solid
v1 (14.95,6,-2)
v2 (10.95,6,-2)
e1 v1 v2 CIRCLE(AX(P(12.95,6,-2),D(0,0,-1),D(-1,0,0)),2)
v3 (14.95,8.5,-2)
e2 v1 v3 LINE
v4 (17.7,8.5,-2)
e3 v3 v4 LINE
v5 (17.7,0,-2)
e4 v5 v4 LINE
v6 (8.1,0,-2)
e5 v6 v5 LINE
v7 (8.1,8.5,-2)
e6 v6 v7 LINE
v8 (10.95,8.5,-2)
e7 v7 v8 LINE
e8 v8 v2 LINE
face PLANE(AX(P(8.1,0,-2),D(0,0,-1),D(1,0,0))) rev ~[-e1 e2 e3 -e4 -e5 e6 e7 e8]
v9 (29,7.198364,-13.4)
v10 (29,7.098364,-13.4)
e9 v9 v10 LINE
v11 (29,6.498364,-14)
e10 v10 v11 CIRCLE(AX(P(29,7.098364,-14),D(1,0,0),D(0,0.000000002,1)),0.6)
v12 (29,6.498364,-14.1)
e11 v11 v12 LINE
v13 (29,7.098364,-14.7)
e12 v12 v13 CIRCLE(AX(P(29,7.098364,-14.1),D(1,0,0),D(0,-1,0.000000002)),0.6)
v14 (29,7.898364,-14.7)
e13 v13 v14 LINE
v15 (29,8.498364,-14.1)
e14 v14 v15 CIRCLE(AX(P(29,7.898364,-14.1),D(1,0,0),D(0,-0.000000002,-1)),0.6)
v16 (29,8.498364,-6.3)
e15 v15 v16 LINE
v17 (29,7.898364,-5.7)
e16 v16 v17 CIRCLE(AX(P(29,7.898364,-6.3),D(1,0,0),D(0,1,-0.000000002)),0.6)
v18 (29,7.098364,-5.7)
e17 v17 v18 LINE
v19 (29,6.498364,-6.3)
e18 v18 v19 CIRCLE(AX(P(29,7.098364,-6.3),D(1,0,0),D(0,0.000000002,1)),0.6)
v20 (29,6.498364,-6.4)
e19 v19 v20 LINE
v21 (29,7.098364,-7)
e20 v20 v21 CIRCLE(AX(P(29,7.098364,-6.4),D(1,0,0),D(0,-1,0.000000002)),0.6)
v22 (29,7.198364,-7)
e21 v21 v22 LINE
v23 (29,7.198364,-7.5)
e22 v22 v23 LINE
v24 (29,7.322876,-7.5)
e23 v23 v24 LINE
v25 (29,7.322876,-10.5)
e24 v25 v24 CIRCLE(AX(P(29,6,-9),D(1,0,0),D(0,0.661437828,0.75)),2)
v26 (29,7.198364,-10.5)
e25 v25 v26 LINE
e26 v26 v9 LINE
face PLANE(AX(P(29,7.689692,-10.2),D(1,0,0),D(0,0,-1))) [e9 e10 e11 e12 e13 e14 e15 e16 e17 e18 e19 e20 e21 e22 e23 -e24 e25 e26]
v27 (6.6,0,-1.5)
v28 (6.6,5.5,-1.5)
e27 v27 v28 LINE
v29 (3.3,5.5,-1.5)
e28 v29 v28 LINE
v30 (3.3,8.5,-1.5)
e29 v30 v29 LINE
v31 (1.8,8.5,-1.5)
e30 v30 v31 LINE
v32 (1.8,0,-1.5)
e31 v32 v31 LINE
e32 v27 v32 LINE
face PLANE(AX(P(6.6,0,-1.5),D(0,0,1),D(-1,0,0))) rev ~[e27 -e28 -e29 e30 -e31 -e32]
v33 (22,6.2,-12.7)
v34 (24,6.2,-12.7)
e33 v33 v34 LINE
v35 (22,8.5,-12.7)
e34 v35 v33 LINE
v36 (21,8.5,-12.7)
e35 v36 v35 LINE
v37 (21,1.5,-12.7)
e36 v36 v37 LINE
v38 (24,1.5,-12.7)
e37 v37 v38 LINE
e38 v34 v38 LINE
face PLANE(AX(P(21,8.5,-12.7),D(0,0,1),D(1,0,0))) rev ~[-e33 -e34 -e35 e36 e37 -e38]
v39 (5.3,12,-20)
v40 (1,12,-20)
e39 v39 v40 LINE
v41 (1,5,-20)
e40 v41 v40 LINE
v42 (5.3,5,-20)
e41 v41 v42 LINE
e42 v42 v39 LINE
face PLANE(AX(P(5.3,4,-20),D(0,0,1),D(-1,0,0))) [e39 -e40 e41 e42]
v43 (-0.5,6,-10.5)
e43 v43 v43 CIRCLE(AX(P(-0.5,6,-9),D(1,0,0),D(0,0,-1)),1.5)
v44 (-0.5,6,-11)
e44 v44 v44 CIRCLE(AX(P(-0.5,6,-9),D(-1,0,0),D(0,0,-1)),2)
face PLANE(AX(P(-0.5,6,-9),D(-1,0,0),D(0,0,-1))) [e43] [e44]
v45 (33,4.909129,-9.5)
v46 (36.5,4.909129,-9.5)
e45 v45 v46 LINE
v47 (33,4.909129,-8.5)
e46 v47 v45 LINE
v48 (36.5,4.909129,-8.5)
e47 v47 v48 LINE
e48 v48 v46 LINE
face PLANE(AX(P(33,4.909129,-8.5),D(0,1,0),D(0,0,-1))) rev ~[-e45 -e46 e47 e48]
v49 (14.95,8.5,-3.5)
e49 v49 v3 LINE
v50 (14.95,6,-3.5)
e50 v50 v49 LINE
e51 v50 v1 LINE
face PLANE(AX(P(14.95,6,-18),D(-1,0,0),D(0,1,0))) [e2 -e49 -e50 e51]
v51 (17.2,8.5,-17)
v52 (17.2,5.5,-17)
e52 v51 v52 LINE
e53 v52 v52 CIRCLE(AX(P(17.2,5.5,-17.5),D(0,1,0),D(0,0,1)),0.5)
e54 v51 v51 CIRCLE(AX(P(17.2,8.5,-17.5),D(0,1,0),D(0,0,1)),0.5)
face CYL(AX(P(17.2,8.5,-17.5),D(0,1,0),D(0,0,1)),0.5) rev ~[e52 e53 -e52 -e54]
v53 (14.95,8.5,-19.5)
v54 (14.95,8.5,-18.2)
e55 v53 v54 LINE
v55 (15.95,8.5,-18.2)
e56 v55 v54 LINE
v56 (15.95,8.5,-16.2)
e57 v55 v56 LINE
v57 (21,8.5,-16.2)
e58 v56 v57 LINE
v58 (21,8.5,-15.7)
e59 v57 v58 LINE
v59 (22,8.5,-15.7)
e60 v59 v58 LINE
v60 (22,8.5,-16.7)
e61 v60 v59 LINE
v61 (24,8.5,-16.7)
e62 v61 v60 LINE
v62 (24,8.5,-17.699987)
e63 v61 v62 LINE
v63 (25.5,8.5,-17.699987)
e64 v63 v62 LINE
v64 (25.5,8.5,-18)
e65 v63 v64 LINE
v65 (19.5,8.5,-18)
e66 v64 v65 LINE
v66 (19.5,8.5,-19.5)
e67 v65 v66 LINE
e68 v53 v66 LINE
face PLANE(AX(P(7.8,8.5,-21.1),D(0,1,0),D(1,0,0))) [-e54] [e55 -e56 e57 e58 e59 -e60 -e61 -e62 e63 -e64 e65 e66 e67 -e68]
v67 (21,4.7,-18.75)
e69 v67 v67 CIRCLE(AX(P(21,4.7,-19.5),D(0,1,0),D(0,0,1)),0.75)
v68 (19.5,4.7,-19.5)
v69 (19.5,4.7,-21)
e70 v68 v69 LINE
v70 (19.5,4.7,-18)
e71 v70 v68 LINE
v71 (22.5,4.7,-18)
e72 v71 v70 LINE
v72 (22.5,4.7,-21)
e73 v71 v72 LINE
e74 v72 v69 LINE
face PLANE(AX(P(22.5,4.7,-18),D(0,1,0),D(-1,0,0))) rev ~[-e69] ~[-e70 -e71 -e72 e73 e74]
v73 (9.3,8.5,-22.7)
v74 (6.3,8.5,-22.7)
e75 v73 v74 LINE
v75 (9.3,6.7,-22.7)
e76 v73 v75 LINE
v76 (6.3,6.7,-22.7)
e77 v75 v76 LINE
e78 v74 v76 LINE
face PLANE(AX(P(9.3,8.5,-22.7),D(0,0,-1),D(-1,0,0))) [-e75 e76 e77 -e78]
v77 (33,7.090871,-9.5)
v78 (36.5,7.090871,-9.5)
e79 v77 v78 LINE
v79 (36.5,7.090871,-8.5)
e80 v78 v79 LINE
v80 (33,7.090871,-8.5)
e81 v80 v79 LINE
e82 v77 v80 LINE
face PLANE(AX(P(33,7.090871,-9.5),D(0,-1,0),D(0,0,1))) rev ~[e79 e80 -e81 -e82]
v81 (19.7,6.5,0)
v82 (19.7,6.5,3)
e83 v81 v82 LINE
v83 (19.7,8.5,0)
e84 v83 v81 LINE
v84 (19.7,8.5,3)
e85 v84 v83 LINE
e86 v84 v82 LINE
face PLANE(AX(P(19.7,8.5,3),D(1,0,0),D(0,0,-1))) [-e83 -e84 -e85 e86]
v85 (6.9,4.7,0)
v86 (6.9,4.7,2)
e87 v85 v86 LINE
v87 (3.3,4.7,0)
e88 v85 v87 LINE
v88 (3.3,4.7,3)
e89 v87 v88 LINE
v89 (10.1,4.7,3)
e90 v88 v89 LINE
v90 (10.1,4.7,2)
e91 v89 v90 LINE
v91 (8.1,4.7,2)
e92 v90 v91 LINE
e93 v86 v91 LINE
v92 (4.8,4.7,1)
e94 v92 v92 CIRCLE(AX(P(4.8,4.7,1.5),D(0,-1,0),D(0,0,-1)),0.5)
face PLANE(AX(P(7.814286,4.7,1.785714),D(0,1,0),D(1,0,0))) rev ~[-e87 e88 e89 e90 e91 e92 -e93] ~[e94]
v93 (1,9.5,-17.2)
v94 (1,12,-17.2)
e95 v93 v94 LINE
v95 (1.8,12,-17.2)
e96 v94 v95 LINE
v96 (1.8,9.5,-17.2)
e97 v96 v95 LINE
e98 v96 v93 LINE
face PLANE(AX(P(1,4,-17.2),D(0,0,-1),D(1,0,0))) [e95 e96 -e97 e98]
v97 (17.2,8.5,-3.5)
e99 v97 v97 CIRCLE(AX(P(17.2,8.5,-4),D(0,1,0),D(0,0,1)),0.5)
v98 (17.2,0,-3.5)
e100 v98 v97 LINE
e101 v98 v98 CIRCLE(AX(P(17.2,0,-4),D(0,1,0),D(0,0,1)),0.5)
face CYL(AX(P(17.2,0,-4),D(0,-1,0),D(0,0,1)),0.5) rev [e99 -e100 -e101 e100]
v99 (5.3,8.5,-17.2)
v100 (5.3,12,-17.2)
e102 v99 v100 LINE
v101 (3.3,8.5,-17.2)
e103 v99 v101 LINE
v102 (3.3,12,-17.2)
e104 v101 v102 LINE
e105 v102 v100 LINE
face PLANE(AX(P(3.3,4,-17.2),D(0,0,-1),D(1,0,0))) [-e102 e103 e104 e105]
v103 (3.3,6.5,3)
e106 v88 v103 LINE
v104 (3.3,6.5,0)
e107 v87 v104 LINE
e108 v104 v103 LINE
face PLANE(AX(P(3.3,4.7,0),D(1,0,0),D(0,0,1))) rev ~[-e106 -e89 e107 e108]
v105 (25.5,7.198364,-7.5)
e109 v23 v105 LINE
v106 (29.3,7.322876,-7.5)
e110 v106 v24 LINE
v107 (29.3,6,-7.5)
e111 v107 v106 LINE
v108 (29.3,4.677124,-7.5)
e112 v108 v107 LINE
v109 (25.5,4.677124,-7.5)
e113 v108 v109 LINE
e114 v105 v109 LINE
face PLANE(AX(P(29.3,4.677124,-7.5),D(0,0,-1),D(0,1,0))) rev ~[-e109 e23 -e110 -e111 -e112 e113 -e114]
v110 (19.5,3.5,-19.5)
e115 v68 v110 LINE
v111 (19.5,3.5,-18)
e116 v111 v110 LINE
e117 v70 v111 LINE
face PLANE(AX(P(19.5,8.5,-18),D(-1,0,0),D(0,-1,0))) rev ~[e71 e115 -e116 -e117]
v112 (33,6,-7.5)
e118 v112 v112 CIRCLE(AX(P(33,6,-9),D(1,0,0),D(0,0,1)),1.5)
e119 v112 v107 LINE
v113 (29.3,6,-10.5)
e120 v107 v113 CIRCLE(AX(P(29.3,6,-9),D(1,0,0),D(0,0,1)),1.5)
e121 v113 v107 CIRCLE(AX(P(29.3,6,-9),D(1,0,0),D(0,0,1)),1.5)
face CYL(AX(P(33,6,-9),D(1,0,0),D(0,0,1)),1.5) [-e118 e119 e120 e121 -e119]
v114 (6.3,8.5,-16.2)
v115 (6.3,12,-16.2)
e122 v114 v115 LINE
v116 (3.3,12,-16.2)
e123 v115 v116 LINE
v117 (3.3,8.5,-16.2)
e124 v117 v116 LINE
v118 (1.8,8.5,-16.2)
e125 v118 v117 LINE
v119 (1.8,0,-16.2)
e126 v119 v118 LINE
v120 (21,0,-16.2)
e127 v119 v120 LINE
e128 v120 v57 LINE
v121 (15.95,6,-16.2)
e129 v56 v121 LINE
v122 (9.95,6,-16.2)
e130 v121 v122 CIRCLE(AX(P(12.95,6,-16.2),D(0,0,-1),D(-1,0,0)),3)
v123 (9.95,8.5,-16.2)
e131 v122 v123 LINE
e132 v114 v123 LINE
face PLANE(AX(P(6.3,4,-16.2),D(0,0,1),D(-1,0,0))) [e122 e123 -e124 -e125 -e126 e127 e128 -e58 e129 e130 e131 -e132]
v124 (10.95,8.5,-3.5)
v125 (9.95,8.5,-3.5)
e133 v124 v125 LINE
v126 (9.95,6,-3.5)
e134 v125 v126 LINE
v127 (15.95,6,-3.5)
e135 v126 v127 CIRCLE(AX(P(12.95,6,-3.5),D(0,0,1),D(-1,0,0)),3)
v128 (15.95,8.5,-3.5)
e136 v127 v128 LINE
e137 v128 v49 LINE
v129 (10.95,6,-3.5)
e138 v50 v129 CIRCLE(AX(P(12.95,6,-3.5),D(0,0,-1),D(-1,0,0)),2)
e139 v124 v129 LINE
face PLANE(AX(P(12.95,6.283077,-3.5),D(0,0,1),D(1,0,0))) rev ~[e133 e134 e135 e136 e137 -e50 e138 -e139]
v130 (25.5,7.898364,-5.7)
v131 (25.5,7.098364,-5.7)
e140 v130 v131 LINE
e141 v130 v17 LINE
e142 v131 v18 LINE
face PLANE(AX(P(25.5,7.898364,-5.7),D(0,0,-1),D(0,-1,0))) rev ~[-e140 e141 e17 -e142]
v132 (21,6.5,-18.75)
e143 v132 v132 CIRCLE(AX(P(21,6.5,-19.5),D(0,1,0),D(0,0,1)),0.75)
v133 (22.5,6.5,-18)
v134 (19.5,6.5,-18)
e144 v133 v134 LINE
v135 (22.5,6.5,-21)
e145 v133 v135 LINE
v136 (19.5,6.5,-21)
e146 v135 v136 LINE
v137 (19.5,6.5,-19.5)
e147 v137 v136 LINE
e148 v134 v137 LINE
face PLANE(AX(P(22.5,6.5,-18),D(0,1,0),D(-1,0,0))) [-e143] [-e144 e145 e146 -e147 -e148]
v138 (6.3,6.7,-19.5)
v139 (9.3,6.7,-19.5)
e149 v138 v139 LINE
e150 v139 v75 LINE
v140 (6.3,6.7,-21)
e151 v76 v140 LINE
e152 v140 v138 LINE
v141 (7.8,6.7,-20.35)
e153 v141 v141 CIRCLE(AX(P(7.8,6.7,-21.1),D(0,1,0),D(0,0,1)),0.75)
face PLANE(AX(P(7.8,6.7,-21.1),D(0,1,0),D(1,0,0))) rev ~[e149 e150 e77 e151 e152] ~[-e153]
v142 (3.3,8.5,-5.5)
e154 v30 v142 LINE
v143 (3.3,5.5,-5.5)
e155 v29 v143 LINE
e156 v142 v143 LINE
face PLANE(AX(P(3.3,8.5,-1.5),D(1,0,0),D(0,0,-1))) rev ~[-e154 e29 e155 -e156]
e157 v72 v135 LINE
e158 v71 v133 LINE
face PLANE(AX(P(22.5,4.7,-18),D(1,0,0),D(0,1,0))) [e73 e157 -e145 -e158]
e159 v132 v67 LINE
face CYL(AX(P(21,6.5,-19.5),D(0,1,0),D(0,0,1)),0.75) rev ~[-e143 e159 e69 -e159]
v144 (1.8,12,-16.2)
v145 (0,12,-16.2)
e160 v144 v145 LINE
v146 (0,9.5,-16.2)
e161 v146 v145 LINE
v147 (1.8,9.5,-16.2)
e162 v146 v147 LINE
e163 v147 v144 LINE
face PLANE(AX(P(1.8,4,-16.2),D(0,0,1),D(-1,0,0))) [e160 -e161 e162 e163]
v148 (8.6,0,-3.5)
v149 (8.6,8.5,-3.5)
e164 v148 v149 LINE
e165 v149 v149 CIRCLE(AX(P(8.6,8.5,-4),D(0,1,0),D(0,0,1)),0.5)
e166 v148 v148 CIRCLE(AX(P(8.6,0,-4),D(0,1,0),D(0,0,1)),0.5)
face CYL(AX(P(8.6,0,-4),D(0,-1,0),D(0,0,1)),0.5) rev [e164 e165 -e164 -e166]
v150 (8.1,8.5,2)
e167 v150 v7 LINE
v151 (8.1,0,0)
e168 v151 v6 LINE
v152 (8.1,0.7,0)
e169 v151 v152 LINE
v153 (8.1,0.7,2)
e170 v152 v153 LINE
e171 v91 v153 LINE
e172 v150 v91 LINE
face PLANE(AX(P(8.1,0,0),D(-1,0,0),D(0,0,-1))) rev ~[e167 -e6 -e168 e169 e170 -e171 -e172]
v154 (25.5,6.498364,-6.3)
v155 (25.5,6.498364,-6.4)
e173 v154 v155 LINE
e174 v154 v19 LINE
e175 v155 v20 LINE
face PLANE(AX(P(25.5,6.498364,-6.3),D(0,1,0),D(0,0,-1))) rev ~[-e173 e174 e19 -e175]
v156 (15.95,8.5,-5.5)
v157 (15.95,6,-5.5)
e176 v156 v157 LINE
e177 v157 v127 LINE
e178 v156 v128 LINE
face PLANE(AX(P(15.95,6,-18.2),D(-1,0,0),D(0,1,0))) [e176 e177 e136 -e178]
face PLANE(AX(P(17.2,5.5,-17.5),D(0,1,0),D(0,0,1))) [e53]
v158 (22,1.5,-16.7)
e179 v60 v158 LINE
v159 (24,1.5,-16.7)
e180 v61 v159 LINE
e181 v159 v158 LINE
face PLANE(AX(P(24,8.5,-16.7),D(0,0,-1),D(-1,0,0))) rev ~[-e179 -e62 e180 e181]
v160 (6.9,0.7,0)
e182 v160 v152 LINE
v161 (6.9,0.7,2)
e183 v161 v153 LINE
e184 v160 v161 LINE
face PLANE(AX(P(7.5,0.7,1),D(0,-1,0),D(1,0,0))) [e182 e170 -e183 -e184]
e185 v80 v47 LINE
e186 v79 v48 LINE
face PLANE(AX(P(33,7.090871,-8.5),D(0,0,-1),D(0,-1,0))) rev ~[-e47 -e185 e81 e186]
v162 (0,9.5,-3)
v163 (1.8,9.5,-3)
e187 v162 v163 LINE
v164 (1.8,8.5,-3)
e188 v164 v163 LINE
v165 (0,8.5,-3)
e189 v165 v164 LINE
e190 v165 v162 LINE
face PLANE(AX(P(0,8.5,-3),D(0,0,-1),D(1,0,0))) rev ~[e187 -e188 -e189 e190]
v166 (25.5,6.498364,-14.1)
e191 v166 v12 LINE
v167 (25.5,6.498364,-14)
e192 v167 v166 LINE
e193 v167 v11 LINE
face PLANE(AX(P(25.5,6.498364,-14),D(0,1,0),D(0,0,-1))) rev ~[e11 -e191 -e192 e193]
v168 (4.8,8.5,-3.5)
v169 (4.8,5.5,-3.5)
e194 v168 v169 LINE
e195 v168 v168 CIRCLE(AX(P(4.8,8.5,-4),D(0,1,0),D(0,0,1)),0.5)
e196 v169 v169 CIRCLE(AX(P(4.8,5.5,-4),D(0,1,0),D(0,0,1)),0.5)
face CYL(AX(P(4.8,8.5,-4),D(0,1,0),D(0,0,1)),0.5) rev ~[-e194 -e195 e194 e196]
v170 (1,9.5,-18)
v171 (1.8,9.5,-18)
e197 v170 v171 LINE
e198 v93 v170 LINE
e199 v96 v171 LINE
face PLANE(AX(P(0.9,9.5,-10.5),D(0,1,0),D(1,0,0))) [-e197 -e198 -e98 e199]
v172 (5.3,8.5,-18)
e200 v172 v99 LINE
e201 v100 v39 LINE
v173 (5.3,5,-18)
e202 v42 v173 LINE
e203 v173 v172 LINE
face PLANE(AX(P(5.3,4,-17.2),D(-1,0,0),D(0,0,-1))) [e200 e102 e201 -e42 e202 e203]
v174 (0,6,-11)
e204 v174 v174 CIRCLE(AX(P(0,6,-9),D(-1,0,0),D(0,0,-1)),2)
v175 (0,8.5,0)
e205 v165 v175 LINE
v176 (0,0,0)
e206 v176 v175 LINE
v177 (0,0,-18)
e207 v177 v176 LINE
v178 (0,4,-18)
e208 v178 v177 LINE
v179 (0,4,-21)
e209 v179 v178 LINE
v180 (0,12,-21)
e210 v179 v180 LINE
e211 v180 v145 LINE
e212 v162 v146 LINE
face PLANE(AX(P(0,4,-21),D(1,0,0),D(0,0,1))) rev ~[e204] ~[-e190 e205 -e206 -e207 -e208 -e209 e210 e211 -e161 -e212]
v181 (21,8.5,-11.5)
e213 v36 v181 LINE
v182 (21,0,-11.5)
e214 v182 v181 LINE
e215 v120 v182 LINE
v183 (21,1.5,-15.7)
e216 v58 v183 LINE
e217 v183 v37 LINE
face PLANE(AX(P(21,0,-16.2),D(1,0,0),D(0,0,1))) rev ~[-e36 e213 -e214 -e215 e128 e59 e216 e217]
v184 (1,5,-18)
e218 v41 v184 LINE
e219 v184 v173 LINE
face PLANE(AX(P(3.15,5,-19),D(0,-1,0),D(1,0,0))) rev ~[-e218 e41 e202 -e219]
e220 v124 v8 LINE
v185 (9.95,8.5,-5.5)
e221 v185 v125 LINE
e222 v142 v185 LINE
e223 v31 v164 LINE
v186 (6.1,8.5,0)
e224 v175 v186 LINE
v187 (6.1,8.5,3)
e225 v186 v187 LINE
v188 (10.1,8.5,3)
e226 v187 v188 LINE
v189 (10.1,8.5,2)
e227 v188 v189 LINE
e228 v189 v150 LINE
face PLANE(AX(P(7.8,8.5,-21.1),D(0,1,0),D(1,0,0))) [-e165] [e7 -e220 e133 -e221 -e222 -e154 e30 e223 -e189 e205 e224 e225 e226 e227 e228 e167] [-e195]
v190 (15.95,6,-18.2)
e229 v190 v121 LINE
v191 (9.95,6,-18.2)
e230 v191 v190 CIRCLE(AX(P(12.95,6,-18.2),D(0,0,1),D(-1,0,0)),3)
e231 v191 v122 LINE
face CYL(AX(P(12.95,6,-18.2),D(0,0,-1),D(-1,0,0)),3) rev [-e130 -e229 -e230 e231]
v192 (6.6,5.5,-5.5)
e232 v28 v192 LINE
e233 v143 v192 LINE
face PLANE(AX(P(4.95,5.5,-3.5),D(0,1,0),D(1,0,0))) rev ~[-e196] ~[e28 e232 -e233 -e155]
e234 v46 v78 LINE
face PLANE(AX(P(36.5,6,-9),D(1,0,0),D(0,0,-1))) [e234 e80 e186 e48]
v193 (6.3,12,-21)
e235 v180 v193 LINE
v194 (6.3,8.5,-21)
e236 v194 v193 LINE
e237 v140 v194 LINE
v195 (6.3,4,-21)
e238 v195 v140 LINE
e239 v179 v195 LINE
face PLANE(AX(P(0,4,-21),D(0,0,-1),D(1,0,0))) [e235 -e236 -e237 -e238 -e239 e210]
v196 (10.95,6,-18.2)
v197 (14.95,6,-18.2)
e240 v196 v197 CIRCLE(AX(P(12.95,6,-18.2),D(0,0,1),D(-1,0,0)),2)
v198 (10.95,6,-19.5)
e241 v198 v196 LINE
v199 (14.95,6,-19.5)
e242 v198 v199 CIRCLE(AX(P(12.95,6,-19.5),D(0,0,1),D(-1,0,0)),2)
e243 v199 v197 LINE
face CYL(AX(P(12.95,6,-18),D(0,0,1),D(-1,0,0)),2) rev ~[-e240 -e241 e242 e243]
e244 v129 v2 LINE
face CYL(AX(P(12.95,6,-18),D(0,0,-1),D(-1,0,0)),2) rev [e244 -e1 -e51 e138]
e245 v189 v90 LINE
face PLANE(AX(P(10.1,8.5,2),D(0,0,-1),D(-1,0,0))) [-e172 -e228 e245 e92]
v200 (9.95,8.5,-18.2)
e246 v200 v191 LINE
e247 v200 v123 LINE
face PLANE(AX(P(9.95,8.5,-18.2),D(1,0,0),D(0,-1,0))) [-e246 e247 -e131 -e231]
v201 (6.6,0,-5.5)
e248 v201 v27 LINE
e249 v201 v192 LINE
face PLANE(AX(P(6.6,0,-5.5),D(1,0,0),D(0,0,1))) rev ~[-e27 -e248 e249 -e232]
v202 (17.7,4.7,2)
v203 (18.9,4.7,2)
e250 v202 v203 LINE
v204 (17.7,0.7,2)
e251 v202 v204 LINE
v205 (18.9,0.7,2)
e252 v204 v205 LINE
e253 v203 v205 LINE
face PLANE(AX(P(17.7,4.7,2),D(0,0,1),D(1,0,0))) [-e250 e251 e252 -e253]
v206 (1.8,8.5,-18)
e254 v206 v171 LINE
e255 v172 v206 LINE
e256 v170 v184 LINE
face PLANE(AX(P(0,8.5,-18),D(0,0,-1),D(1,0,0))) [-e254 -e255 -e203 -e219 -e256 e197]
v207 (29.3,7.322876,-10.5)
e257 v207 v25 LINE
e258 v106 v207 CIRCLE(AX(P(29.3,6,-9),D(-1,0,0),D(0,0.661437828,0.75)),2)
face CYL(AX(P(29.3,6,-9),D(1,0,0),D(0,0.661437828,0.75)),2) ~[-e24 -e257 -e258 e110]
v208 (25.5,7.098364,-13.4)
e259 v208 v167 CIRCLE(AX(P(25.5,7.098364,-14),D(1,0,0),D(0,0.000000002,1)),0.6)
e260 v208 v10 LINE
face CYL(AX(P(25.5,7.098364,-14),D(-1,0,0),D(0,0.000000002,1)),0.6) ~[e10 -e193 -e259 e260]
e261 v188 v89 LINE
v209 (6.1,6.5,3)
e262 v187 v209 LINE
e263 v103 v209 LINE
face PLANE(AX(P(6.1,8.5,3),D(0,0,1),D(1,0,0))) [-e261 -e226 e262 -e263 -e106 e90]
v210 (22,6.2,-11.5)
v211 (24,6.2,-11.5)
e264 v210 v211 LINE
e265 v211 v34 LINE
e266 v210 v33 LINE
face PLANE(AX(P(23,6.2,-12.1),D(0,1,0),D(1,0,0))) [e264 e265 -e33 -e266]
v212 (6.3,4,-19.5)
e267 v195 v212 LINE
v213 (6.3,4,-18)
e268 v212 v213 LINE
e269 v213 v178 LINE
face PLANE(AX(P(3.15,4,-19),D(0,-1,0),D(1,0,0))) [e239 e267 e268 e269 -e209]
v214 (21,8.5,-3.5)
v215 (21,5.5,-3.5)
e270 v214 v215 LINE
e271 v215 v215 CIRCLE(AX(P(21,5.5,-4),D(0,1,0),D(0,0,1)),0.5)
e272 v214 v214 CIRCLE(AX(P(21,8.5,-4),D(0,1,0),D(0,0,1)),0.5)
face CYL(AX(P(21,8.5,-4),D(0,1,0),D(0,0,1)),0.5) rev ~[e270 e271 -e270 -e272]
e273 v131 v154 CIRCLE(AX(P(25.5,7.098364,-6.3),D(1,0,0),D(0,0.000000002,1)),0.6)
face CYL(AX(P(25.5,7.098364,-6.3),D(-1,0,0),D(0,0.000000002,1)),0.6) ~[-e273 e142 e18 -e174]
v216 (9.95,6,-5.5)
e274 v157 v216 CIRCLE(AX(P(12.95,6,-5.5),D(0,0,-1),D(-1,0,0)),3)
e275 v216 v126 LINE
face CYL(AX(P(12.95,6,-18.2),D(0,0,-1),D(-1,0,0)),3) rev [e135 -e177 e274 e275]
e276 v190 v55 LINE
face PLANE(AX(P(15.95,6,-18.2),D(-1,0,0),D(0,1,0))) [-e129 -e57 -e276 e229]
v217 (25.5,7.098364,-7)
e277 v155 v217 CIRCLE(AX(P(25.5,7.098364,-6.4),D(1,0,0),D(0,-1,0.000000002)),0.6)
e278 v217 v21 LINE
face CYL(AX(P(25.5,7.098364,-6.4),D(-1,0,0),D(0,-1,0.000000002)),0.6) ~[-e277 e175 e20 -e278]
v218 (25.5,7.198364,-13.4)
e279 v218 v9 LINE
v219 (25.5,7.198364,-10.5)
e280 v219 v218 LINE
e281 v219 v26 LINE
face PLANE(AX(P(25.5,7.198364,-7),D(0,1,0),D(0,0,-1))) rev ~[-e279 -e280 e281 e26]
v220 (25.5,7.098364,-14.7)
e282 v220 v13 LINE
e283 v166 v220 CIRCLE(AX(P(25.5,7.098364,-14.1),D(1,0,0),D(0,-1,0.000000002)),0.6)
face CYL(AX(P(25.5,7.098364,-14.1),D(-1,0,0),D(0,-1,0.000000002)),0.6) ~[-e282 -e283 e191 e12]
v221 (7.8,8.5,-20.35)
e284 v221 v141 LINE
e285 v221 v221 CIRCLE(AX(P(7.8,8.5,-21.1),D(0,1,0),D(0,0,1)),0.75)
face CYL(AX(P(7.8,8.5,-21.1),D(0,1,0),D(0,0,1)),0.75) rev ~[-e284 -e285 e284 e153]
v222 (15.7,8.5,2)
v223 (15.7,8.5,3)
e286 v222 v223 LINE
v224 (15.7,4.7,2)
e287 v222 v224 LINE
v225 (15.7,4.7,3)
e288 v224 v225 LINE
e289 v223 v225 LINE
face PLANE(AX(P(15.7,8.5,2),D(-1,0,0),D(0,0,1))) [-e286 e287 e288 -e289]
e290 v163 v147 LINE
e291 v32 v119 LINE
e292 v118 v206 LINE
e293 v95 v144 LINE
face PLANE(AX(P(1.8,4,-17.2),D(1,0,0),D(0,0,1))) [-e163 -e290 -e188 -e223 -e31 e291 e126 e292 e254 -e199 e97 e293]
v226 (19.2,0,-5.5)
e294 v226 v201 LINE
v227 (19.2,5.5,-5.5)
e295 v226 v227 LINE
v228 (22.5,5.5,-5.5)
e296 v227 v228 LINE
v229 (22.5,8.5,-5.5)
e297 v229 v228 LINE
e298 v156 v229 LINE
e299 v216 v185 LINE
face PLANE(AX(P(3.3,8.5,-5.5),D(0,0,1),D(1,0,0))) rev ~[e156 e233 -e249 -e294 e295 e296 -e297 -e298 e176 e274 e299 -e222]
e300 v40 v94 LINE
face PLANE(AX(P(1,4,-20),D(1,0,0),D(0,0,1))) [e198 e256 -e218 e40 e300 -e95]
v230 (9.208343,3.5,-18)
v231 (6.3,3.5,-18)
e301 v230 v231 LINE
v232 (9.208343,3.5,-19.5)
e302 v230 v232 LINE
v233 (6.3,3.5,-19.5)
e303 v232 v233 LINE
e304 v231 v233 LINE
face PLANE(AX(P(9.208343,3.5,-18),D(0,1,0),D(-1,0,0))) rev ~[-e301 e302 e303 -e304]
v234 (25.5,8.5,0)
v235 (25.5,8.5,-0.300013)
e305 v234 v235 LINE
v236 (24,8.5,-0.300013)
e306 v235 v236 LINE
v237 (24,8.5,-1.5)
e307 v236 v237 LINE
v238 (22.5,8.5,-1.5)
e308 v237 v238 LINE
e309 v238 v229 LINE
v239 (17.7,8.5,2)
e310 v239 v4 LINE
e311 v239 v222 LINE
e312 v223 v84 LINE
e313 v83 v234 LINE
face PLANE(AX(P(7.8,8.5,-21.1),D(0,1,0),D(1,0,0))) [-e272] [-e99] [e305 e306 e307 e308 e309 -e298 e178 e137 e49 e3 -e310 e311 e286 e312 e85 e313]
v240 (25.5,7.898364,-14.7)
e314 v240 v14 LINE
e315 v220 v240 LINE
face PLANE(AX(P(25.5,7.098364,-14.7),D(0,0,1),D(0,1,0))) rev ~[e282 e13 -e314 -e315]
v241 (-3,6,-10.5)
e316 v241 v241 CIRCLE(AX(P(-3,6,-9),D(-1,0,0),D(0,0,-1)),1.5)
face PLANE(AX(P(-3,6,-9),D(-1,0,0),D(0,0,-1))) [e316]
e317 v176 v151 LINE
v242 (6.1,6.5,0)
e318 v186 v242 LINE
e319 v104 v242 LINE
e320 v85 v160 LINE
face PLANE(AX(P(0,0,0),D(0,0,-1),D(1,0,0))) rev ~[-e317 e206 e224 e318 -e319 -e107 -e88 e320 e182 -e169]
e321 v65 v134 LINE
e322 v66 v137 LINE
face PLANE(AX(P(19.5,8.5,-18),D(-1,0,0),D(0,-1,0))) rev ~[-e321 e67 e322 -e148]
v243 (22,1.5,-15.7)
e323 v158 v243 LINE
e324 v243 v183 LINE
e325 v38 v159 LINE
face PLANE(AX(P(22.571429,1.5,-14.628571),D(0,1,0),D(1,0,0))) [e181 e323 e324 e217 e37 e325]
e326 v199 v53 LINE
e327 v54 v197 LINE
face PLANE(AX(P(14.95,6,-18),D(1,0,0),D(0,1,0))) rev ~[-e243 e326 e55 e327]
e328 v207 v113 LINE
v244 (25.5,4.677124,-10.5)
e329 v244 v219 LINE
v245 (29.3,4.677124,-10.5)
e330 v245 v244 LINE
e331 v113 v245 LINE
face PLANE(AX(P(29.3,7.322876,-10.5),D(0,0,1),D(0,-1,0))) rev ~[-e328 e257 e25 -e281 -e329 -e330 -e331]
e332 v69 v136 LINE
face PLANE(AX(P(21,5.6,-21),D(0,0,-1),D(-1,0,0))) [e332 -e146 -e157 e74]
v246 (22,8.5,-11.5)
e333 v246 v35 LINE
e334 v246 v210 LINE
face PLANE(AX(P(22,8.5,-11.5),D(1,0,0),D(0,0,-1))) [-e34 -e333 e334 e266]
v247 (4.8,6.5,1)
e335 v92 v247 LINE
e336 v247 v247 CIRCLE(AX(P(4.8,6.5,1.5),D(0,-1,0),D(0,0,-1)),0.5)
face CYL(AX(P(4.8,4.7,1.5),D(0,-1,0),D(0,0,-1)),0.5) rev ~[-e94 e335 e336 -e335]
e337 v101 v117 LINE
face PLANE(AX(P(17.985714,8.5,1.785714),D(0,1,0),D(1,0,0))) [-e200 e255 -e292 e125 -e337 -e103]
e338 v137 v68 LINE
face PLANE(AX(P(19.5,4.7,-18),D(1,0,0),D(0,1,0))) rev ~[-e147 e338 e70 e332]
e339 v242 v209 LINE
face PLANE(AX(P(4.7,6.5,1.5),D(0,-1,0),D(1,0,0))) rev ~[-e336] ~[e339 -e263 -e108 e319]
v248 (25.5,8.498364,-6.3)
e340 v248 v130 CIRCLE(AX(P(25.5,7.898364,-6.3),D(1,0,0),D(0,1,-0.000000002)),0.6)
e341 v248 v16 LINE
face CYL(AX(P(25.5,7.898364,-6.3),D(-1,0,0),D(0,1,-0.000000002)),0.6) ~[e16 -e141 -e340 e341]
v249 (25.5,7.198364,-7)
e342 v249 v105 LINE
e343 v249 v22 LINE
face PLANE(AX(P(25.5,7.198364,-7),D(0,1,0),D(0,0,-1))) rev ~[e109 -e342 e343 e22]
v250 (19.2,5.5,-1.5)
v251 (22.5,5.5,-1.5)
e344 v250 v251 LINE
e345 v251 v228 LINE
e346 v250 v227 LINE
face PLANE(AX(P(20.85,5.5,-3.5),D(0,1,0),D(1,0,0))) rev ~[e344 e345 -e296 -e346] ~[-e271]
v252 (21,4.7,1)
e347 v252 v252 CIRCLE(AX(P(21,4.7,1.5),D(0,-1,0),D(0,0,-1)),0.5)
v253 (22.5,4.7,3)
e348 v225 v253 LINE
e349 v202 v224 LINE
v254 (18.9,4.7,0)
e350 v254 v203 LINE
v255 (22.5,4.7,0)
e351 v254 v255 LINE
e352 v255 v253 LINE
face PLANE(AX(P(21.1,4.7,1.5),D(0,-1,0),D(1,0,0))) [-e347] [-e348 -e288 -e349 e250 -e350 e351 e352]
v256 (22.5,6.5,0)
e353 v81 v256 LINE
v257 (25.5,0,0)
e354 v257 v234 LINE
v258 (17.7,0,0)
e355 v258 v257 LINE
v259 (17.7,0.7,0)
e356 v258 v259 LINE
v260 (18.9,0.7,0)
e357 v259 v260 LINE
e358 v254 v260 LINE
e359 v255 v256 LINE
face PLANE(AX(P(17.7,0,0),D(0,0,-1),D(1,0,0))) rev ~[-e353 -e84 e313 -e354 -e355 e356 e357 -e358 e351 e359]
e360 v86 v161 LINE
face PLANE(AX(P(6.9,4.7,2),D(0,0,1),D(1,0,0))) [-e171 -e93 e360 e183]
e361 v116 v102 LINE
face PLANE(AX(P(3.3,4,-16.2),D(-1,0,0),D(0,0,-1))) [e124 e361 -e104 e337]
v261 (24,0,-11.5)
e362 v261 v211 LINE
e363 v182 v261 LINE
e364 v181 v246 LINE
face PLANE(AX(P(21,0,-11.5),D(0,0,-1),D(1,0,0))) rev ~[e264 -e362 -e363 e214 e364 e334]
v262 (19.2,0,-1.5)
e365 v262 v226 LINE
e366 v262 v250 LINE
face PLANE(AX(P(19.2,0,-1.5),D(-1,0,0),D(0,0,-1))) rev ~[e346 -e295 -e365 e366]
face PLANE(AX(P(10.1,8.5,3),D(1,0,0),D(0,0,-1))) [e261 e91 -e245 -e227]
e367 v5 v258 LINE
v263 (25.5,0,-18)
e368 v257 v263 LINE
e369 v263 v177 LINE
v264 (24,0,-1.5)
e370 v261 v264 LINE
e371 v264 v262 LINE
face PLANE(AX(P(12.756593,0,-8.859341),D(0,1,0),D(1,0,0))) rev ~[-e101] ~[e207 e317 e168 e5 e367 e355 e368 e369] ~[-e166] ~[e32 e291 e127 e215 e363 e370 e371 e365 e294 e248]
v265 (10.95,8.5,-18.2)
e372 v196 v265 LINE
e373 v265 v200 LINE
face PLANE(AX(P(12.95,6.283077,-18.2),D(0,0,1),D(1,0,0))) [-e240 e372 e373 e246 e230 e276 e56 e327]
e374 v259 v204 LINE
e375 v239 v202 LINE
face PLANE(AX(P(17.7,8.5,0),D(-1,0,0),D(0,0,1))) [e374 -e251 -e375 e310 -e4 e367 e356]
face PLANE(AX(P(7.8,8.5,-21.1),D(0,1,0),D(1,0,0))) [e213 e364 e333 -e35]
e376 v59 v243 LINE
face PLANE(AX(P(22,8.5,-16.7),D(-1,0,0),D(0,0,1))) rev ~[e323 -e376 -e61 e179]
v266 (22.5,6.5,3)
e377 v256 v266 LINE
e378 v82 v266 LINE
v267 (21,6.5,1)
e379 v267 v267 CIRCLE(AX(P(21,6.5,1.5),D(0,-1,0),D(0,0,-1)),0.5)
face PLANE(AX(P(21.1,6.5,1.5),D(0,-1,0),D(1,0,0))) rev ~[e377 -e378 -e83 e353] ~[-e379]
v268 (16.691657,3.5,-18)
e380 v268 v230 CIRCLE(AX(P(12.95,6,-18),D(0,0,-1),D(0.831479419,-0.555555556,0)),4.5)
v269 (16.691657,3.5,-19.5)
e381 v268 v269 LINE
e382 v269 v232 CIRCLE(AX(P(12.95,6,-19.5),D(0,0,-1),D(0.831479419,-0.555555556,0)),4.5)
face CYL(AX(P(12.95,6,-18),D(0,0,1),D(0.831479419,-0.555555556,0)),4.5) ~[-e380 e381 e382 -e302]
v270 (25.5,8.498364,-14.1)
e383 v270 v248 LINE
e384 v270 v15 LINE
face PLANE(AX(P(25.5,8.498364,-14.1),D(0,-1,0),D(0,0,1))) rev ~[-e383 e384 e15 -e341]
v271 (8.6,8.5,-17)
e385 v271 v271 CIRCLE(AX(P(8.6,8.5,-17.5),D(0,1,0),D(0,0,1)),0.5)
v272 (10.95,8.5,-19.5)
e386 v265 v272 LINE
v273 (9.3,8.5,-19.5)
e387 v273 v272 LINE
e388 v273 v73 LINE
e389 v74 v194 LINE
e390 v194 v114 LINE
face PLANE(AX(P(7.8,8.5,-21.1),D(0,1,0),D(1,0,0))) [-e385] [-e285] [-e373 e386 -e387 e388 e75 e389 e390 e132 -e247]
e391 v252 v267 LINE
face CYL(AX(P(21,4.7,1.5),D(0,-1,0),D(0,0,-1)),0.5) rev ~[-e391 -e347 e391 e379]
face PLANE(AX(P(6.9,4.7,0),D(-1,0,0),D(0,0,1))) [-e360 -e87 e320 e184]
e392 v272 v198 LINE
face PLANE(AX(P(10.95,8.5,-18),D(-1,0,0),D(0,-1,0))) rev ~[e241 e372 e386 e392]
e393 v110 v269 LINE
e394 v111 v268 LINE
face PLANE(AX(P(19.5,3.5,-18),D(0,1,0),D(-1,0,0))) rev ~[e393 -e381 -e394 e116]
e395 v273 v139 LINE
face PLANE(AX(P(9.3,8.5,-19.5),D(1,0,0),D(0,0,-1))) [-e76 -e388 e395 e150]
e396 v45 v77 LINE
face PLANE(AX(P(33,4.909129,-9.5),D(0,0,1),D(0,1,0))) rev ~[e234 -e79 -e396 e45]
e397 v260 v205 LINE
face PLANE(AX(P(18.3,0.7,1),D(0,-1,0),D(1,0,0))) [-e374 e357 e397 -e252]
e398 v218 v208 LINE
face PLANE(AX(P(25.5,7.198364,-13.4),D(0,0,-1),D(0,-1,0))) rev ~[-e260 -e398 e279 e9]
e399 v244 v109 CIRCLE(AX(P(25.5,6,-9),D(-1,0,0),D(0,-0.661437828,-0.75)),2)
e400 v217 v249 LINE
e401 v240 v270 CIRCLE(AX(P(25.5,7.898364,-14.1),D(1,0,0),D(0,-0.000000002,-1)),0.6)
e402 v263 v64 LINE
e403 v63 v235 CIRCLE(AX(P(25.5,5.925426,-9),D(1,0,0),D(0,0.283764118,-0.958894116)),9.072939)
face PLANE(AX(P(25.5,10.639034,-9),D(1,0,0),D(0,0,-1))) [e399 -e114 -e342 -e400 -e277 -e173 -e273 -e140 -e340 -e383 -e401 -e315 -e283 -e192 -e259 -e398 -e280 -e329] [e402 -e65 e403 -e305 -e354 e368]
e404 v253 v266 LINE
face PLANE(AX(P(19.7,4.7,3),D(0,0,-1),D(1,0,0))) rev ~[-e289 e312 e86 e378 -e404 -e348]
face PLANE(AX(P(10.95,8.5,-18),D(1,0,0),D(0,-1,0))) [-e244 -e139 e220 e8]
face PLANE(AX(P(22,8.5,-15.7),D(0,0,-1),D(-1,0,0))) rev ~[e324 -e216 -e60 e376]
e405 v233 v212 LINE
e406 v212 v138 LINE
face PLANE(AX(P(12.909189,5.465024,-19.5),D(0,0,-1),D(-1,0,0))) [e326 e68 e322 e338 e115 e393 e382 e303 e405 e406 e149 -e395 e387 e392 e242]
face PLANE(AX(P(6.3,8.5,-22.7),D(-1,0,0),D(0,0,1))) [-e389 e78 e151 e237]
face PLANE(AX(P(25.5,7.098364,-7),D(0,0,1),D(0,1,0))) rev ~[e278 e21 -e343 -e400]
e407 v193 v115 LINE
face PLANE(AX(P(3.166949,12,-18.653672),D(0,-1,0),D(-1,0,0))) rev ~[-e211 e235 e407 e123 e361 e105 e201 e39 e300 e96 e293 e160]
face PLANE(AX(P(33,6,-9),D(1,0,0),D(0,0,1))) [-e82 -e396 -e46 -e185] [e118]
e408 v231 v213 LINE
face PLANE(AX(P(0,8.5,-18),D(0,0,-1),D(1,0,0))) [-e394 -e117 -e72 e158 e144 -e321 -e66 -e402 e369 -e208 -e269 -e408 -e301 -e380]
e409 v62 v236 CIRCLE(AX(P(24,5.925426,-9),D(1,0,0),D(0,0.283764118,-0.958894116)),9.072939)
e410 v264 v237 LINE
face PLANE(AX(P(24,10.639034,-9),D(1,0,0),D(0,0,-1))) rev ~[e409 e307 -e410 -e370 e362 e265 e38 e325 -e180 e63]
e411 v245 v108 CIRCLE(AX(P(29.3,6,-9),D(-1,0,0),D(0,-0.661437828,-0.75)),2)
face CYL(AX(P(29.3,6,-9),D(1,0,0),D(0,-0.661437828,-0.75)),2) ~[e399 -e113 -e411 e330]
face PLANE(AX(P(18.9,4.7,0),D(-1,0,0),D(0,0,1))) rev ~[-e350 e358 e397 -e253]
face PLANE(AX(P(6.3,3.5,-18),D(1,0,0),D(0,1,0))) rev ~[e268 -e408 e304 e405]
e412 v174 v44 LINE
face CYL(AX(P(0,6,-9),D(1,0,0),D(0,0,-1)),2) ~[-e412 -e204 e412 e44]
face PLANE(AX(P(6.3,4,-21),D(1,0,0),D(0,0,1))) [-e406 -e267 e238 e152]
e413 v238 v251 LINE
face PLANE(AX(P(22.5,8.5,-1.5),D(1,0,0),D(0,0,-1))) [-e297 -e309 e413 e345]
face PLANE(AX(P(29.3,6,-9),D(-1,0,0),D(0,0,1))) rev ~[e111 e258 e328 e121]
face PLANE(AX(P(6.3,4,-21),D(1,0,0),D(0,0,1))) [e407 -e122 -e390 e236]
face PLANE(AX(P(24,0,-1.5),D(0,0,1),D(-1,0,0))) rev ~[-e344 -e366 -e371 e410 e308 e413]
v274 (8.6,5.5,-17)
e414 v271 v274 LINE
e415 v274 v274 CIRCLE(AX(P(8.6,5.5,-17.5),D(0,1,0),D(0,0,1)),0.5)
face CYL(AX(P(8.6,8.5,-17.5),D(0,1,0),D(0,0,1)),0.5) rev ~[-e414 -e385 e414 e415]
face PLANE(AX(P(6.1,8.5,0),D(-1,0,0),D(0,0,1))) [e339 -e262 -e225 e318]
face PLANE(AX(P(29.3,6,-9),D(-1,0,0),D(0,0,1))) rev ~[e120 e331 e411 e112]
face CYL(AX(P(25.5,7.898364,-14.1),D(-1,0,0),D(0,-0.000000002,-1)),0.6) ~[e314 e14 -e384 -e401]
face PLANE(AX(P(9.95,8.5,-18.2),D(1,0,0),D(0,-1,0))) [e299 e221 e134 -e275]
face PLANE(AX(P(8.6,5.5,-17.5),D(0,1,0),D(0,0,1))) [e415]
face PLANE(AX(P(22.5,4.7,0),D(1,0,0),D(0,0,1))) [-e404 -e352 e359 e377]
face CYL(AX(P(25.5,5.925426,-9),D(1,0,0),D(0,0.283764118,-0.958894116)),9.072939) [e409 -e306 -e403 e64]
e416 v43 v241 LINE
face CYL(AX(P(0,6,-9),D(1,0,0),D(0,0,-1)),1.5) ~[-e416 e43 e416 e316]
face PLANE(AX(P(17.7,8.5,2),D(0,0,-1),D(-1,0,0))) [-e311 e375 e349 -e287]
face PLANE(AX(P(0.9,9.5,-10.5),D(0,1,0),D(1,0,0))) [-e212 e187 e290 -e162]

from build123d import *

# Parameters (mm, degrees)
SKETCH_1_R               = 0.5
EXTRUDE_1_DEPTH          = 8.5
SKETCH_2_W               = 3.3
SKETCH_2_H               = 4
SKETCH_2_R               = 0.5
EXTRUDE_2_DEPTH          = 3
EXTRUDE_3_DEPTH          = 3.8
SKETCH_4_W               = 2.8
SKETCH_4_H               = 3
SKETCH_4_R               = 0.5
EXTRUDE_4_DEPTH          = 1.8
SKETCH_5_W               = 1.2
SKETCH_5_H               = 2
EXTRUDE_5_DEPTH          = 4
SKETCH_6_W               = 1.8
SKETCH_6_H               = 15
EXTRUDE_6_DEPTH          = 1
EXTRUDE_7_DEPTH          = 3.5
EXTRUDE_7_DEPTH_BACK     = 4.5
SKETCH_8_W               = 4.3
SKETCH_8_H               = 2
EXTRUDE_8_DEPTH          = 1
EXTRUDE_9_DEPTH          = 1.5
SKETCH_10_R              = 0.75
EXTRUDE_10_DEPTH         = 1.8
SKETCH_12_W              = 3
SKETCH_12_H              = 1.8
EXTRUDE_11_DEPTH         = 3
SKETCH_13_R              = 0.75
CUT_EXTRUDE_1_DEPTH      = 3
SKETCH_14_R              = 0.5
CUT_EXTRUDE_2_DEPTH      = 3
CUT_EXTRUDE_3_DEPTH      = 7
CUT_EXTRUDE_4_DEPTH      = 36.146123542
CUT_EXTRUDE_5_DEPTH      = 12.7
CUT_EXTRUDE_5_DEPTH_BACK = 2
SKETCH_18_W              = 2
SKETCH_18_H              = 1.2
CUT_EXTRUDE_6_DEPTH      = 2.3
EXTRUDE_12_DEPTH         = 1.5
SKETCH_22_R              = 1.5
EXTRUDE_13_DEPTH         = 3
SKETCH_23_R              = 2
EXTRUDE_14_DEPTH         = 0.5
EXTRUDE_START            = 7.5
SKETCH_24_R              = 1.5
EXTRUDE_15_DEPTH         = 7.5
EXTRUDE_16_DEPTH         = 3.5
EXTRUDE_17_DEPTH         = 3.5
EXTRUDE_START_2          = 3.8
EXTRUDE_18_DEPTH         = 3.8


with BuildPart() as part:
    # 草图1 → 凸台-拉伸1 (new body)
    with BuildSketch(Plane(origin=(0, 0, 0), x_dir=(1, 0, 0), z_dir=(0, 1, 0))):
        Polygon((25.5, 0), (25.5, 18), (0, 18), (0, 0), (8.1, 0), (8.1, 2), (17.7, 2), (17.7, 0), align=None)
        with Locations(Location((8.6, 4, 0), (0, 0, 270))):
            Circle(SKETCH_1_R, mode=Mode.SUBTRACT)
        with Locations(Location((17.2, 4, 0), (0, 0, 270))):
            Circle(SKETCH_1_R, mode=Mode.SUBTRACT)
        Polygon((24, 1.5), (19.2, 1.5), (19.2, 5.5), (12.9, 5.5), (6.6, 5.5), (6.6, 1.5), (1.8, 1.5), (1.8, 16.2), (21, 16.2), (21, 11.5), (24, 11.5), align=None, mode=Mode.SUBTRACT)
    extrude(amount=EXTRUDE_1_DEPTH)

    # 草图2 → 凸台-拉伸2 (add)
    # profile 1 of 2: a face of its own
    with BuildSketch(Plane(origin=(0, 8.5, 0), x_dir=(1, 0, 0), z_dir=(0, 1, 0))):
        with Locations((4.95, 3.5)):
            Rectangle(SKETCH_2_W, SKETCH_2_H)
        with Locations(Location((4.8, 4, 0), (0, 0, 270))):
            Circle(SKETCH_2_R, mode=Mode.SUBTRACT)
    # profile 2 of 2: a face of its own
    with BuildSketch(Plane(origin=(0, 8.5, 0), x_dir=(1, 0, 0), z_dir=(0, 1, 0))):
        with Locations((20.85, 3.5)):
            Rectangle(SKETCH_2_W, SKETCH_2_H)
        with Locations(Location((21, 4, 0), (0, 0, 270))):
            Circle(SKETCH_2_R, mode=Mode.SUBTRACT)
    extrude(amount=-EXTRUDE_2_DEPTH)

    # 草图3 → 凸台-拉伸3 (add)
    with BuildSketch(Plane(origin=(0, 8.5, 0), x_dir=(1, 0, 0), z_dir=(0, 1, 0))):
        Polygon((17.7, 0), (17.7, -2), (15.7, -2), (15.7, -3), (17.7, -3), (19.7, -3), (19.7, 0), align=None)
        Polygon((8.1, 0), (6.1, 0), (6.1, -3), (8.1, -3), (10.1, -3), (10.1, -2), (8.1, -2), align=None)
    extrude(amount=-EXTRUDE_3_DEPTH)

    # 草图4 → 凸台-拉伸4 (add)
    # profile 1 of 2: a face of its own
    with BuildSketch(Plane.XZ.offset(-4.7)):
        with Locations((21.1, 1.5)):
            Rectangle(SKETCH_4_W, SKETCH_4_H)
        with Locations(Location((21, 1.5, 0), (0, 0, 270))):
            Circle(SKETCH_4_R, mode=Mode.SUBTRACT)
    # profile 2 of 2: a face of its own
    with BuildSketch(Plane.XZ.offset(-4.7)):
        with Locations((4.7, 1.5)):
            Rectangle(SKETCH_4_W, SKETCH_4_H)
        with Locations(Location((4.8, 1.5, 0), (0, 0, 270))):
            Circle(SKETCH_4_R, mode=Mode.SUBTRACT)
    extrude(amount=-EXTRUDE_4_DEPTH)

    # 草图5 → 凸台-拉伸5 (add)
    with BuildSketch(Plane.XZ.offset(-4.7)):
        with Locations((7.5, 1)):
            Rectangle(SKETCH_5_W, SKETCH_5_H)
        with Locations((18.3, 1)):
            Rectangle(SKETCH_5_W, SKETCH_5_H)
    extrude(amount=EXTRUDE_5_DEPTH)

    # 草图6 → 凸台-拉伸6 (add)
    with BuildSketch(Plane(origin=(0, 8.5, 0), x_dir=(1, 0, 0), z_dir=(0, 1, 0))):
        with Locations((0.9, 10.5)):
            Rectangle(SKETCH_6_W, SKETCH_6_H)
    extrude(amount=EXTRUDE_6_DEPTH)

    # 草图7 → 凸台-拉伸7 (add, two sides: drawn at the far end of the back side and taken through both)
    with BuildSketch(Plane(origin=(0, 8.5, 0), x_dir=(1, 0, 0), z_dir=(0, 1, 0)).offset(-EXTRUDE_7_DEPTH_BACK)):
        Polygon((0, 18), (0, 21), (6.3, 21), (6.3, 16.2), (3.3, 16.2), (3.3, 17.2), (5.3, 17.2), (5.3, 20), (1, 20), (1, 17.2), (1.8, 17.2), (1.8, 16.2), (0, 16.2), align=None)
    extrude(amount=EXTRUDE_7_DEPTH + EXTRUDE_7_DEPTH_BACK)

    # 草图8 → 凸台-拉伸8 (add)
    with BuildSketch(Plane.XZ.offset(-4)):
        with Locations((3.15, -19)):
            Rectangle(SKETCH_8_W, SKETCH_8_H)
    extrude(amount=-EXTRUDE_8_DEPTH)

    # 草图9 → 凸台-拉伸9 (add)
    with BuildSketch(Plane(origin=(0, 0, -18), x_dir=(-1, 0, 0), z_dir=(0, 0, -1))):
        with BuildLine():
            Line((-10.95, 8.5), (-10.95, 6))
            ThreePointArc((-10.95, 6), (-12.95, 4), (-14.95, 6))
            Line((-14.95, 6), (-14.95, 8.5))
            Line((-14.95, 8.5), (-19.5, 8.5))
            Line((-19.5, 8.5), (-19.5, 3.5))
            Line((-19.5, 3.5), (-16.691657387, 3.5))
            ThreePointArc((-16.691657387, 3.5), (-12.95, 1.5), (-9.208342613, 3.5))
            Line((-9.208342613, 3.5), (-6.3, 3.5))
            Line((-6.3, 3.5), (-6.3, 8.5))
            Line((-6.3, 8.5), (-10.95, 8.5))
        make_face()
    extrude(amount=EXTRUDE_9_DEPTH)

    # 草图10 → 凸台-拉伸10 (add)
    with BuildSketch(Plane(origin=(0, 8.5, 0), x_dir=(1, 0, 0), z_dir=(0, 1, 0))):
        Polygon((6.3, 22.7), (6.3, 19.5), (9.3, 19.5), (9.3, 21.1), (9.3, 22.7), align=None)
        with Locations(Location((7.8, 21.1, 0), (0, 0, 270))):
            Circle(SKETCH_10_R, mode=Mode.SUBTRACT)
    extrude(amount=-EXTRUDE_10_DEPTH)

    # 草图12 → 凸台-拉伸11 (add)
    with BuildSketch(Plane(origin=(0, 0, -18), x_dir=(-1, 0, 0), z_dir=(0, 0, -1))):
        with Locations((-21, 5.6)):
            Rectangle(SKETCH_12_W, SKETCH_12_H)
    extrude(amount=EXTRUDE_11_DEPTH)

    # 草图13 → 切除-拉伸1 (cut)
    with BuildSketch(Plane(origin=(0, 6.5, 0), x_dir=(1, 0, 0), z_dir=(0, 1, 0))):
        with Locations(Location((21, 19.5, 0), (0, 0, 270))):
            Circle(SKETCH_13_R)
    extrude(amount=-CUT_EXTRUDE_1_DEPTH, mode=Mode.SUBTRACT)

    # 草图14 → 切除-拉伸2 (cut)
    with BuildSketch(Plane(origin=(0, 8.5, 0), x_dir=(1, 0, 0), z_dir=(0, 1, 0))):
        with Locations(Location((17.2, 17.5, 0), (0, 0, 270))):
            Circle(SKETCH_14_R)
        with Locations(Location((8.6, 17.5, 0), (0, 0, 270))):
            Circle(SKETCH_14_R)
    extrude(amount=-CUT_EXTRUDE_2_DEPTH, mode=Mode.SUBTRACT)

    # 草图15 → 切除-拉伸3 (cut)
    with BuildSketch(Plane(origin=(0, 8.5, 0), x_dir=(1, 0, 0), z_dir=(0, 1, 0))):
        Polygon((21, 15.7), (21, 12.7), (24, 12.7), (24, 16.7), (22, 16.7), (22, 15.7), align=None)
    extrude(amount=-CUT_EXTRUDE_3_DEPTH, mode=Mode.SUBTRACT)

    # 草图16 → 切除-拉伸4 (cut, through all)
    with BuildSketch(Plane(origin=(0, 0, -18), x_dir=(-1, 0, 0), z_dir=(0, 0, -1))):
        with BuildLine():
            Line((-14.95, 8.5), (-10.95, 8.5))
            Line((-10.95, 8.5), (-10.95, 6))
            ThreePointArc((-10.95, 6), (-12.95, 4), (-14.95, 6))
            Line((-14.95, 6), (-14.95, 8.5))
        make_face()
    extrude(amount=-CUT_EXTRUDE_4_DEPTH, mode=Mode.SUBTRACT)

    # 草图17 → 切除-拉伸5 (cut, two sides: drawn at the far end of the back side and taken through both)
    with BuildSketch(Plane.XY.offset(-16.2).offset(-CUT_EXTRUDE_5_DEPTH_BACK)):
        with BuildLine():
            Line((15.95, 6), (15.95, 8.5))
            Line((15.95, 8.5), (9.95, 8.5))
            Line((9.95, 8.5), (9.95, 6))
            ThreePointArc((9.95, 6), (12.95, 3), (15.95, 6))
        make_face()
    extrude(amount=CUT_EXTRUDE_5_DEPTH + CUT_EXTRUDE_5_DEPTH_BACK, mode=Mode.SUBTRACT)

    # 草图18 → 切除-拉伸6 (cut)
    with BuildSketch(Plane(origin=(0, 8.5, 0), x_dir=(1, 0, 0), z_dir=(0, 1, 0))):
        with Locations((23, 12.1)):
            Rectangle(SKETCH_18_W, SKETCH_18_H)
    extrude(amount=-CUT_EXTRUDE_6_DEPTH, mode=Mode.SUBTRACT)

    # 草图19 → 凸台-拉伸12 (add)
    with BuildSketch(Plane(origin=(25.5, 0, 0), x_dir=(0, 0, -1), z_dir=(1, 0, 0))):
        with BuildLine():
            Line((0.30001254, 8.5), (17.69998746, 8.5))
            ThreePointArc((17.69998746, 8.5), (9, 14.998364198), (0.30001254, 8.5))
        make_face()
    extrude(amount=-EXTRUDE_12_DEPTH)

    # 草图22 → 凸台-拉伸13 (add)
    with BuildSketch(Plane.ZY):
        with Locations(Location((-9, 6, 0), (0, 0, 180))):
            Circle(SKETCH_22_R)
    extrude(amount=EXTRUDE_13_DEPTH)

    # 草图23 → 凸台-拉伸14 (add)
    with BuildSketch(Plane.ZY):
        with Locations(Location((-9, 6, 0), (0, 0, 180))):
            Circle(SKETCH_23_R)
    extrude(amount=EXTRUDE_14_DEPTH)

    # 草图24 → 凸台-拉伸15 (add)
    with BuildSketch(Plane(origin=(25.5, 0, 0), x_dir=(0, 0, -1), z_dir=(1, 0, 0)).offset(EXTRUDE_START)):
        with Locations(Location((9, 6, 0), (0, 0, 180))):
            Circle(SKETCH_24_R)
    extrude(amount=-EXTRUDE_15_DEPTH)

    # 草图25 → 凸台-拉伸16 (add)
    with BuildSketch(Plane(origin=(33, 0, 0), x_dir=(0, 0, -1), z_dir=(1, 0, 0))):
        Polygon((9.5, 6), (9.5, 7.090871211), (8.5, 7.090871211), (8.5, 4.909128789), (9.5, 4.909128789), align=None)
    extrude(amount=EXTRUDE_16_DEPTH)

    # 草图26 → 凸台-拉伸17 (add)
    with BuildSketch(Plane(origin=(25.5, 0, 0), x_dir=(0, 0, -1), z_dir=(1, 0, 0))):
        with BuildLine():
            Line((9, 8.498364198), (6.3, 8.498364198))
            ThreePointArc((6.3, 8.498364198), (5.875735931, 8.322628267), (5.7, 7.898364198))
            Line((5.7, 7.898364198), (5.7, 7.098364198))
            ThreePointArc((5.7, 7.098364198), (5.875735931, 6.674100129), (6.3, 6.498364198))
            Line((6.3, 6.498364198), (6.4, 6.498364198))
            ThreePointArc((6.4, 6.498364198), (6.824264069, 6.674100129), (7, 7.098364198))
            Line((7, 7.098364198), (7, 7.198364198))
            Line((7, 7.198364198), (13.4, 7.198364198))
            Line((13.4, 7.198364198), (13.4, 7.098364198))
            ThreePointArc((13.4, 7.098364198), (13.575735931, 6.674100129), (14, 6.498364198))
            Line((14, 6.498364198), (14.1, 6.498364198))
            ThreePointArc((14.1, 6.498364198), (14.524264069, 6.674100129), (14.7, 7.098364198))
            Line((14.7, 7.098364198), (14.7, 7.898364198))
            ThreePointArc((14.7, 7.898364198), (14.524264069, 8.322628267), (14.1, 8.498364198))
            Line((14.1, 8.498364198), (9, 8.498364198))
        make_face()
    extrude(amount=EXTRUDE_17_DEPTH)

    # 草图27 → 凸台-拉伸18 (add)
    with BuildSketch(Plane(origin=(25.5, 0, 0), x_dir=(0, 0, -1), z_dir=(1, 0, 0)).offset(EXTRUDE_START_2)):
        with BuildLine():
            Line((7.5, 6), (7.5, 7.322875656))
            ThreePointArc((7.5, 7.322875656), (9, 8), (10.5, 7.322875656))
            Line((10.5, 7.322875656), (10.5, 4.677124344))
            ThreePointArc((10.5, 4.677124344), (9, 4), (7.5, 4.677124344))
            Line((7.5, 4.677124344), (7.5, 6))
        make_face()
    extrude(amount=-EXTRUDE_18_DEPTH)


solid = part.part
